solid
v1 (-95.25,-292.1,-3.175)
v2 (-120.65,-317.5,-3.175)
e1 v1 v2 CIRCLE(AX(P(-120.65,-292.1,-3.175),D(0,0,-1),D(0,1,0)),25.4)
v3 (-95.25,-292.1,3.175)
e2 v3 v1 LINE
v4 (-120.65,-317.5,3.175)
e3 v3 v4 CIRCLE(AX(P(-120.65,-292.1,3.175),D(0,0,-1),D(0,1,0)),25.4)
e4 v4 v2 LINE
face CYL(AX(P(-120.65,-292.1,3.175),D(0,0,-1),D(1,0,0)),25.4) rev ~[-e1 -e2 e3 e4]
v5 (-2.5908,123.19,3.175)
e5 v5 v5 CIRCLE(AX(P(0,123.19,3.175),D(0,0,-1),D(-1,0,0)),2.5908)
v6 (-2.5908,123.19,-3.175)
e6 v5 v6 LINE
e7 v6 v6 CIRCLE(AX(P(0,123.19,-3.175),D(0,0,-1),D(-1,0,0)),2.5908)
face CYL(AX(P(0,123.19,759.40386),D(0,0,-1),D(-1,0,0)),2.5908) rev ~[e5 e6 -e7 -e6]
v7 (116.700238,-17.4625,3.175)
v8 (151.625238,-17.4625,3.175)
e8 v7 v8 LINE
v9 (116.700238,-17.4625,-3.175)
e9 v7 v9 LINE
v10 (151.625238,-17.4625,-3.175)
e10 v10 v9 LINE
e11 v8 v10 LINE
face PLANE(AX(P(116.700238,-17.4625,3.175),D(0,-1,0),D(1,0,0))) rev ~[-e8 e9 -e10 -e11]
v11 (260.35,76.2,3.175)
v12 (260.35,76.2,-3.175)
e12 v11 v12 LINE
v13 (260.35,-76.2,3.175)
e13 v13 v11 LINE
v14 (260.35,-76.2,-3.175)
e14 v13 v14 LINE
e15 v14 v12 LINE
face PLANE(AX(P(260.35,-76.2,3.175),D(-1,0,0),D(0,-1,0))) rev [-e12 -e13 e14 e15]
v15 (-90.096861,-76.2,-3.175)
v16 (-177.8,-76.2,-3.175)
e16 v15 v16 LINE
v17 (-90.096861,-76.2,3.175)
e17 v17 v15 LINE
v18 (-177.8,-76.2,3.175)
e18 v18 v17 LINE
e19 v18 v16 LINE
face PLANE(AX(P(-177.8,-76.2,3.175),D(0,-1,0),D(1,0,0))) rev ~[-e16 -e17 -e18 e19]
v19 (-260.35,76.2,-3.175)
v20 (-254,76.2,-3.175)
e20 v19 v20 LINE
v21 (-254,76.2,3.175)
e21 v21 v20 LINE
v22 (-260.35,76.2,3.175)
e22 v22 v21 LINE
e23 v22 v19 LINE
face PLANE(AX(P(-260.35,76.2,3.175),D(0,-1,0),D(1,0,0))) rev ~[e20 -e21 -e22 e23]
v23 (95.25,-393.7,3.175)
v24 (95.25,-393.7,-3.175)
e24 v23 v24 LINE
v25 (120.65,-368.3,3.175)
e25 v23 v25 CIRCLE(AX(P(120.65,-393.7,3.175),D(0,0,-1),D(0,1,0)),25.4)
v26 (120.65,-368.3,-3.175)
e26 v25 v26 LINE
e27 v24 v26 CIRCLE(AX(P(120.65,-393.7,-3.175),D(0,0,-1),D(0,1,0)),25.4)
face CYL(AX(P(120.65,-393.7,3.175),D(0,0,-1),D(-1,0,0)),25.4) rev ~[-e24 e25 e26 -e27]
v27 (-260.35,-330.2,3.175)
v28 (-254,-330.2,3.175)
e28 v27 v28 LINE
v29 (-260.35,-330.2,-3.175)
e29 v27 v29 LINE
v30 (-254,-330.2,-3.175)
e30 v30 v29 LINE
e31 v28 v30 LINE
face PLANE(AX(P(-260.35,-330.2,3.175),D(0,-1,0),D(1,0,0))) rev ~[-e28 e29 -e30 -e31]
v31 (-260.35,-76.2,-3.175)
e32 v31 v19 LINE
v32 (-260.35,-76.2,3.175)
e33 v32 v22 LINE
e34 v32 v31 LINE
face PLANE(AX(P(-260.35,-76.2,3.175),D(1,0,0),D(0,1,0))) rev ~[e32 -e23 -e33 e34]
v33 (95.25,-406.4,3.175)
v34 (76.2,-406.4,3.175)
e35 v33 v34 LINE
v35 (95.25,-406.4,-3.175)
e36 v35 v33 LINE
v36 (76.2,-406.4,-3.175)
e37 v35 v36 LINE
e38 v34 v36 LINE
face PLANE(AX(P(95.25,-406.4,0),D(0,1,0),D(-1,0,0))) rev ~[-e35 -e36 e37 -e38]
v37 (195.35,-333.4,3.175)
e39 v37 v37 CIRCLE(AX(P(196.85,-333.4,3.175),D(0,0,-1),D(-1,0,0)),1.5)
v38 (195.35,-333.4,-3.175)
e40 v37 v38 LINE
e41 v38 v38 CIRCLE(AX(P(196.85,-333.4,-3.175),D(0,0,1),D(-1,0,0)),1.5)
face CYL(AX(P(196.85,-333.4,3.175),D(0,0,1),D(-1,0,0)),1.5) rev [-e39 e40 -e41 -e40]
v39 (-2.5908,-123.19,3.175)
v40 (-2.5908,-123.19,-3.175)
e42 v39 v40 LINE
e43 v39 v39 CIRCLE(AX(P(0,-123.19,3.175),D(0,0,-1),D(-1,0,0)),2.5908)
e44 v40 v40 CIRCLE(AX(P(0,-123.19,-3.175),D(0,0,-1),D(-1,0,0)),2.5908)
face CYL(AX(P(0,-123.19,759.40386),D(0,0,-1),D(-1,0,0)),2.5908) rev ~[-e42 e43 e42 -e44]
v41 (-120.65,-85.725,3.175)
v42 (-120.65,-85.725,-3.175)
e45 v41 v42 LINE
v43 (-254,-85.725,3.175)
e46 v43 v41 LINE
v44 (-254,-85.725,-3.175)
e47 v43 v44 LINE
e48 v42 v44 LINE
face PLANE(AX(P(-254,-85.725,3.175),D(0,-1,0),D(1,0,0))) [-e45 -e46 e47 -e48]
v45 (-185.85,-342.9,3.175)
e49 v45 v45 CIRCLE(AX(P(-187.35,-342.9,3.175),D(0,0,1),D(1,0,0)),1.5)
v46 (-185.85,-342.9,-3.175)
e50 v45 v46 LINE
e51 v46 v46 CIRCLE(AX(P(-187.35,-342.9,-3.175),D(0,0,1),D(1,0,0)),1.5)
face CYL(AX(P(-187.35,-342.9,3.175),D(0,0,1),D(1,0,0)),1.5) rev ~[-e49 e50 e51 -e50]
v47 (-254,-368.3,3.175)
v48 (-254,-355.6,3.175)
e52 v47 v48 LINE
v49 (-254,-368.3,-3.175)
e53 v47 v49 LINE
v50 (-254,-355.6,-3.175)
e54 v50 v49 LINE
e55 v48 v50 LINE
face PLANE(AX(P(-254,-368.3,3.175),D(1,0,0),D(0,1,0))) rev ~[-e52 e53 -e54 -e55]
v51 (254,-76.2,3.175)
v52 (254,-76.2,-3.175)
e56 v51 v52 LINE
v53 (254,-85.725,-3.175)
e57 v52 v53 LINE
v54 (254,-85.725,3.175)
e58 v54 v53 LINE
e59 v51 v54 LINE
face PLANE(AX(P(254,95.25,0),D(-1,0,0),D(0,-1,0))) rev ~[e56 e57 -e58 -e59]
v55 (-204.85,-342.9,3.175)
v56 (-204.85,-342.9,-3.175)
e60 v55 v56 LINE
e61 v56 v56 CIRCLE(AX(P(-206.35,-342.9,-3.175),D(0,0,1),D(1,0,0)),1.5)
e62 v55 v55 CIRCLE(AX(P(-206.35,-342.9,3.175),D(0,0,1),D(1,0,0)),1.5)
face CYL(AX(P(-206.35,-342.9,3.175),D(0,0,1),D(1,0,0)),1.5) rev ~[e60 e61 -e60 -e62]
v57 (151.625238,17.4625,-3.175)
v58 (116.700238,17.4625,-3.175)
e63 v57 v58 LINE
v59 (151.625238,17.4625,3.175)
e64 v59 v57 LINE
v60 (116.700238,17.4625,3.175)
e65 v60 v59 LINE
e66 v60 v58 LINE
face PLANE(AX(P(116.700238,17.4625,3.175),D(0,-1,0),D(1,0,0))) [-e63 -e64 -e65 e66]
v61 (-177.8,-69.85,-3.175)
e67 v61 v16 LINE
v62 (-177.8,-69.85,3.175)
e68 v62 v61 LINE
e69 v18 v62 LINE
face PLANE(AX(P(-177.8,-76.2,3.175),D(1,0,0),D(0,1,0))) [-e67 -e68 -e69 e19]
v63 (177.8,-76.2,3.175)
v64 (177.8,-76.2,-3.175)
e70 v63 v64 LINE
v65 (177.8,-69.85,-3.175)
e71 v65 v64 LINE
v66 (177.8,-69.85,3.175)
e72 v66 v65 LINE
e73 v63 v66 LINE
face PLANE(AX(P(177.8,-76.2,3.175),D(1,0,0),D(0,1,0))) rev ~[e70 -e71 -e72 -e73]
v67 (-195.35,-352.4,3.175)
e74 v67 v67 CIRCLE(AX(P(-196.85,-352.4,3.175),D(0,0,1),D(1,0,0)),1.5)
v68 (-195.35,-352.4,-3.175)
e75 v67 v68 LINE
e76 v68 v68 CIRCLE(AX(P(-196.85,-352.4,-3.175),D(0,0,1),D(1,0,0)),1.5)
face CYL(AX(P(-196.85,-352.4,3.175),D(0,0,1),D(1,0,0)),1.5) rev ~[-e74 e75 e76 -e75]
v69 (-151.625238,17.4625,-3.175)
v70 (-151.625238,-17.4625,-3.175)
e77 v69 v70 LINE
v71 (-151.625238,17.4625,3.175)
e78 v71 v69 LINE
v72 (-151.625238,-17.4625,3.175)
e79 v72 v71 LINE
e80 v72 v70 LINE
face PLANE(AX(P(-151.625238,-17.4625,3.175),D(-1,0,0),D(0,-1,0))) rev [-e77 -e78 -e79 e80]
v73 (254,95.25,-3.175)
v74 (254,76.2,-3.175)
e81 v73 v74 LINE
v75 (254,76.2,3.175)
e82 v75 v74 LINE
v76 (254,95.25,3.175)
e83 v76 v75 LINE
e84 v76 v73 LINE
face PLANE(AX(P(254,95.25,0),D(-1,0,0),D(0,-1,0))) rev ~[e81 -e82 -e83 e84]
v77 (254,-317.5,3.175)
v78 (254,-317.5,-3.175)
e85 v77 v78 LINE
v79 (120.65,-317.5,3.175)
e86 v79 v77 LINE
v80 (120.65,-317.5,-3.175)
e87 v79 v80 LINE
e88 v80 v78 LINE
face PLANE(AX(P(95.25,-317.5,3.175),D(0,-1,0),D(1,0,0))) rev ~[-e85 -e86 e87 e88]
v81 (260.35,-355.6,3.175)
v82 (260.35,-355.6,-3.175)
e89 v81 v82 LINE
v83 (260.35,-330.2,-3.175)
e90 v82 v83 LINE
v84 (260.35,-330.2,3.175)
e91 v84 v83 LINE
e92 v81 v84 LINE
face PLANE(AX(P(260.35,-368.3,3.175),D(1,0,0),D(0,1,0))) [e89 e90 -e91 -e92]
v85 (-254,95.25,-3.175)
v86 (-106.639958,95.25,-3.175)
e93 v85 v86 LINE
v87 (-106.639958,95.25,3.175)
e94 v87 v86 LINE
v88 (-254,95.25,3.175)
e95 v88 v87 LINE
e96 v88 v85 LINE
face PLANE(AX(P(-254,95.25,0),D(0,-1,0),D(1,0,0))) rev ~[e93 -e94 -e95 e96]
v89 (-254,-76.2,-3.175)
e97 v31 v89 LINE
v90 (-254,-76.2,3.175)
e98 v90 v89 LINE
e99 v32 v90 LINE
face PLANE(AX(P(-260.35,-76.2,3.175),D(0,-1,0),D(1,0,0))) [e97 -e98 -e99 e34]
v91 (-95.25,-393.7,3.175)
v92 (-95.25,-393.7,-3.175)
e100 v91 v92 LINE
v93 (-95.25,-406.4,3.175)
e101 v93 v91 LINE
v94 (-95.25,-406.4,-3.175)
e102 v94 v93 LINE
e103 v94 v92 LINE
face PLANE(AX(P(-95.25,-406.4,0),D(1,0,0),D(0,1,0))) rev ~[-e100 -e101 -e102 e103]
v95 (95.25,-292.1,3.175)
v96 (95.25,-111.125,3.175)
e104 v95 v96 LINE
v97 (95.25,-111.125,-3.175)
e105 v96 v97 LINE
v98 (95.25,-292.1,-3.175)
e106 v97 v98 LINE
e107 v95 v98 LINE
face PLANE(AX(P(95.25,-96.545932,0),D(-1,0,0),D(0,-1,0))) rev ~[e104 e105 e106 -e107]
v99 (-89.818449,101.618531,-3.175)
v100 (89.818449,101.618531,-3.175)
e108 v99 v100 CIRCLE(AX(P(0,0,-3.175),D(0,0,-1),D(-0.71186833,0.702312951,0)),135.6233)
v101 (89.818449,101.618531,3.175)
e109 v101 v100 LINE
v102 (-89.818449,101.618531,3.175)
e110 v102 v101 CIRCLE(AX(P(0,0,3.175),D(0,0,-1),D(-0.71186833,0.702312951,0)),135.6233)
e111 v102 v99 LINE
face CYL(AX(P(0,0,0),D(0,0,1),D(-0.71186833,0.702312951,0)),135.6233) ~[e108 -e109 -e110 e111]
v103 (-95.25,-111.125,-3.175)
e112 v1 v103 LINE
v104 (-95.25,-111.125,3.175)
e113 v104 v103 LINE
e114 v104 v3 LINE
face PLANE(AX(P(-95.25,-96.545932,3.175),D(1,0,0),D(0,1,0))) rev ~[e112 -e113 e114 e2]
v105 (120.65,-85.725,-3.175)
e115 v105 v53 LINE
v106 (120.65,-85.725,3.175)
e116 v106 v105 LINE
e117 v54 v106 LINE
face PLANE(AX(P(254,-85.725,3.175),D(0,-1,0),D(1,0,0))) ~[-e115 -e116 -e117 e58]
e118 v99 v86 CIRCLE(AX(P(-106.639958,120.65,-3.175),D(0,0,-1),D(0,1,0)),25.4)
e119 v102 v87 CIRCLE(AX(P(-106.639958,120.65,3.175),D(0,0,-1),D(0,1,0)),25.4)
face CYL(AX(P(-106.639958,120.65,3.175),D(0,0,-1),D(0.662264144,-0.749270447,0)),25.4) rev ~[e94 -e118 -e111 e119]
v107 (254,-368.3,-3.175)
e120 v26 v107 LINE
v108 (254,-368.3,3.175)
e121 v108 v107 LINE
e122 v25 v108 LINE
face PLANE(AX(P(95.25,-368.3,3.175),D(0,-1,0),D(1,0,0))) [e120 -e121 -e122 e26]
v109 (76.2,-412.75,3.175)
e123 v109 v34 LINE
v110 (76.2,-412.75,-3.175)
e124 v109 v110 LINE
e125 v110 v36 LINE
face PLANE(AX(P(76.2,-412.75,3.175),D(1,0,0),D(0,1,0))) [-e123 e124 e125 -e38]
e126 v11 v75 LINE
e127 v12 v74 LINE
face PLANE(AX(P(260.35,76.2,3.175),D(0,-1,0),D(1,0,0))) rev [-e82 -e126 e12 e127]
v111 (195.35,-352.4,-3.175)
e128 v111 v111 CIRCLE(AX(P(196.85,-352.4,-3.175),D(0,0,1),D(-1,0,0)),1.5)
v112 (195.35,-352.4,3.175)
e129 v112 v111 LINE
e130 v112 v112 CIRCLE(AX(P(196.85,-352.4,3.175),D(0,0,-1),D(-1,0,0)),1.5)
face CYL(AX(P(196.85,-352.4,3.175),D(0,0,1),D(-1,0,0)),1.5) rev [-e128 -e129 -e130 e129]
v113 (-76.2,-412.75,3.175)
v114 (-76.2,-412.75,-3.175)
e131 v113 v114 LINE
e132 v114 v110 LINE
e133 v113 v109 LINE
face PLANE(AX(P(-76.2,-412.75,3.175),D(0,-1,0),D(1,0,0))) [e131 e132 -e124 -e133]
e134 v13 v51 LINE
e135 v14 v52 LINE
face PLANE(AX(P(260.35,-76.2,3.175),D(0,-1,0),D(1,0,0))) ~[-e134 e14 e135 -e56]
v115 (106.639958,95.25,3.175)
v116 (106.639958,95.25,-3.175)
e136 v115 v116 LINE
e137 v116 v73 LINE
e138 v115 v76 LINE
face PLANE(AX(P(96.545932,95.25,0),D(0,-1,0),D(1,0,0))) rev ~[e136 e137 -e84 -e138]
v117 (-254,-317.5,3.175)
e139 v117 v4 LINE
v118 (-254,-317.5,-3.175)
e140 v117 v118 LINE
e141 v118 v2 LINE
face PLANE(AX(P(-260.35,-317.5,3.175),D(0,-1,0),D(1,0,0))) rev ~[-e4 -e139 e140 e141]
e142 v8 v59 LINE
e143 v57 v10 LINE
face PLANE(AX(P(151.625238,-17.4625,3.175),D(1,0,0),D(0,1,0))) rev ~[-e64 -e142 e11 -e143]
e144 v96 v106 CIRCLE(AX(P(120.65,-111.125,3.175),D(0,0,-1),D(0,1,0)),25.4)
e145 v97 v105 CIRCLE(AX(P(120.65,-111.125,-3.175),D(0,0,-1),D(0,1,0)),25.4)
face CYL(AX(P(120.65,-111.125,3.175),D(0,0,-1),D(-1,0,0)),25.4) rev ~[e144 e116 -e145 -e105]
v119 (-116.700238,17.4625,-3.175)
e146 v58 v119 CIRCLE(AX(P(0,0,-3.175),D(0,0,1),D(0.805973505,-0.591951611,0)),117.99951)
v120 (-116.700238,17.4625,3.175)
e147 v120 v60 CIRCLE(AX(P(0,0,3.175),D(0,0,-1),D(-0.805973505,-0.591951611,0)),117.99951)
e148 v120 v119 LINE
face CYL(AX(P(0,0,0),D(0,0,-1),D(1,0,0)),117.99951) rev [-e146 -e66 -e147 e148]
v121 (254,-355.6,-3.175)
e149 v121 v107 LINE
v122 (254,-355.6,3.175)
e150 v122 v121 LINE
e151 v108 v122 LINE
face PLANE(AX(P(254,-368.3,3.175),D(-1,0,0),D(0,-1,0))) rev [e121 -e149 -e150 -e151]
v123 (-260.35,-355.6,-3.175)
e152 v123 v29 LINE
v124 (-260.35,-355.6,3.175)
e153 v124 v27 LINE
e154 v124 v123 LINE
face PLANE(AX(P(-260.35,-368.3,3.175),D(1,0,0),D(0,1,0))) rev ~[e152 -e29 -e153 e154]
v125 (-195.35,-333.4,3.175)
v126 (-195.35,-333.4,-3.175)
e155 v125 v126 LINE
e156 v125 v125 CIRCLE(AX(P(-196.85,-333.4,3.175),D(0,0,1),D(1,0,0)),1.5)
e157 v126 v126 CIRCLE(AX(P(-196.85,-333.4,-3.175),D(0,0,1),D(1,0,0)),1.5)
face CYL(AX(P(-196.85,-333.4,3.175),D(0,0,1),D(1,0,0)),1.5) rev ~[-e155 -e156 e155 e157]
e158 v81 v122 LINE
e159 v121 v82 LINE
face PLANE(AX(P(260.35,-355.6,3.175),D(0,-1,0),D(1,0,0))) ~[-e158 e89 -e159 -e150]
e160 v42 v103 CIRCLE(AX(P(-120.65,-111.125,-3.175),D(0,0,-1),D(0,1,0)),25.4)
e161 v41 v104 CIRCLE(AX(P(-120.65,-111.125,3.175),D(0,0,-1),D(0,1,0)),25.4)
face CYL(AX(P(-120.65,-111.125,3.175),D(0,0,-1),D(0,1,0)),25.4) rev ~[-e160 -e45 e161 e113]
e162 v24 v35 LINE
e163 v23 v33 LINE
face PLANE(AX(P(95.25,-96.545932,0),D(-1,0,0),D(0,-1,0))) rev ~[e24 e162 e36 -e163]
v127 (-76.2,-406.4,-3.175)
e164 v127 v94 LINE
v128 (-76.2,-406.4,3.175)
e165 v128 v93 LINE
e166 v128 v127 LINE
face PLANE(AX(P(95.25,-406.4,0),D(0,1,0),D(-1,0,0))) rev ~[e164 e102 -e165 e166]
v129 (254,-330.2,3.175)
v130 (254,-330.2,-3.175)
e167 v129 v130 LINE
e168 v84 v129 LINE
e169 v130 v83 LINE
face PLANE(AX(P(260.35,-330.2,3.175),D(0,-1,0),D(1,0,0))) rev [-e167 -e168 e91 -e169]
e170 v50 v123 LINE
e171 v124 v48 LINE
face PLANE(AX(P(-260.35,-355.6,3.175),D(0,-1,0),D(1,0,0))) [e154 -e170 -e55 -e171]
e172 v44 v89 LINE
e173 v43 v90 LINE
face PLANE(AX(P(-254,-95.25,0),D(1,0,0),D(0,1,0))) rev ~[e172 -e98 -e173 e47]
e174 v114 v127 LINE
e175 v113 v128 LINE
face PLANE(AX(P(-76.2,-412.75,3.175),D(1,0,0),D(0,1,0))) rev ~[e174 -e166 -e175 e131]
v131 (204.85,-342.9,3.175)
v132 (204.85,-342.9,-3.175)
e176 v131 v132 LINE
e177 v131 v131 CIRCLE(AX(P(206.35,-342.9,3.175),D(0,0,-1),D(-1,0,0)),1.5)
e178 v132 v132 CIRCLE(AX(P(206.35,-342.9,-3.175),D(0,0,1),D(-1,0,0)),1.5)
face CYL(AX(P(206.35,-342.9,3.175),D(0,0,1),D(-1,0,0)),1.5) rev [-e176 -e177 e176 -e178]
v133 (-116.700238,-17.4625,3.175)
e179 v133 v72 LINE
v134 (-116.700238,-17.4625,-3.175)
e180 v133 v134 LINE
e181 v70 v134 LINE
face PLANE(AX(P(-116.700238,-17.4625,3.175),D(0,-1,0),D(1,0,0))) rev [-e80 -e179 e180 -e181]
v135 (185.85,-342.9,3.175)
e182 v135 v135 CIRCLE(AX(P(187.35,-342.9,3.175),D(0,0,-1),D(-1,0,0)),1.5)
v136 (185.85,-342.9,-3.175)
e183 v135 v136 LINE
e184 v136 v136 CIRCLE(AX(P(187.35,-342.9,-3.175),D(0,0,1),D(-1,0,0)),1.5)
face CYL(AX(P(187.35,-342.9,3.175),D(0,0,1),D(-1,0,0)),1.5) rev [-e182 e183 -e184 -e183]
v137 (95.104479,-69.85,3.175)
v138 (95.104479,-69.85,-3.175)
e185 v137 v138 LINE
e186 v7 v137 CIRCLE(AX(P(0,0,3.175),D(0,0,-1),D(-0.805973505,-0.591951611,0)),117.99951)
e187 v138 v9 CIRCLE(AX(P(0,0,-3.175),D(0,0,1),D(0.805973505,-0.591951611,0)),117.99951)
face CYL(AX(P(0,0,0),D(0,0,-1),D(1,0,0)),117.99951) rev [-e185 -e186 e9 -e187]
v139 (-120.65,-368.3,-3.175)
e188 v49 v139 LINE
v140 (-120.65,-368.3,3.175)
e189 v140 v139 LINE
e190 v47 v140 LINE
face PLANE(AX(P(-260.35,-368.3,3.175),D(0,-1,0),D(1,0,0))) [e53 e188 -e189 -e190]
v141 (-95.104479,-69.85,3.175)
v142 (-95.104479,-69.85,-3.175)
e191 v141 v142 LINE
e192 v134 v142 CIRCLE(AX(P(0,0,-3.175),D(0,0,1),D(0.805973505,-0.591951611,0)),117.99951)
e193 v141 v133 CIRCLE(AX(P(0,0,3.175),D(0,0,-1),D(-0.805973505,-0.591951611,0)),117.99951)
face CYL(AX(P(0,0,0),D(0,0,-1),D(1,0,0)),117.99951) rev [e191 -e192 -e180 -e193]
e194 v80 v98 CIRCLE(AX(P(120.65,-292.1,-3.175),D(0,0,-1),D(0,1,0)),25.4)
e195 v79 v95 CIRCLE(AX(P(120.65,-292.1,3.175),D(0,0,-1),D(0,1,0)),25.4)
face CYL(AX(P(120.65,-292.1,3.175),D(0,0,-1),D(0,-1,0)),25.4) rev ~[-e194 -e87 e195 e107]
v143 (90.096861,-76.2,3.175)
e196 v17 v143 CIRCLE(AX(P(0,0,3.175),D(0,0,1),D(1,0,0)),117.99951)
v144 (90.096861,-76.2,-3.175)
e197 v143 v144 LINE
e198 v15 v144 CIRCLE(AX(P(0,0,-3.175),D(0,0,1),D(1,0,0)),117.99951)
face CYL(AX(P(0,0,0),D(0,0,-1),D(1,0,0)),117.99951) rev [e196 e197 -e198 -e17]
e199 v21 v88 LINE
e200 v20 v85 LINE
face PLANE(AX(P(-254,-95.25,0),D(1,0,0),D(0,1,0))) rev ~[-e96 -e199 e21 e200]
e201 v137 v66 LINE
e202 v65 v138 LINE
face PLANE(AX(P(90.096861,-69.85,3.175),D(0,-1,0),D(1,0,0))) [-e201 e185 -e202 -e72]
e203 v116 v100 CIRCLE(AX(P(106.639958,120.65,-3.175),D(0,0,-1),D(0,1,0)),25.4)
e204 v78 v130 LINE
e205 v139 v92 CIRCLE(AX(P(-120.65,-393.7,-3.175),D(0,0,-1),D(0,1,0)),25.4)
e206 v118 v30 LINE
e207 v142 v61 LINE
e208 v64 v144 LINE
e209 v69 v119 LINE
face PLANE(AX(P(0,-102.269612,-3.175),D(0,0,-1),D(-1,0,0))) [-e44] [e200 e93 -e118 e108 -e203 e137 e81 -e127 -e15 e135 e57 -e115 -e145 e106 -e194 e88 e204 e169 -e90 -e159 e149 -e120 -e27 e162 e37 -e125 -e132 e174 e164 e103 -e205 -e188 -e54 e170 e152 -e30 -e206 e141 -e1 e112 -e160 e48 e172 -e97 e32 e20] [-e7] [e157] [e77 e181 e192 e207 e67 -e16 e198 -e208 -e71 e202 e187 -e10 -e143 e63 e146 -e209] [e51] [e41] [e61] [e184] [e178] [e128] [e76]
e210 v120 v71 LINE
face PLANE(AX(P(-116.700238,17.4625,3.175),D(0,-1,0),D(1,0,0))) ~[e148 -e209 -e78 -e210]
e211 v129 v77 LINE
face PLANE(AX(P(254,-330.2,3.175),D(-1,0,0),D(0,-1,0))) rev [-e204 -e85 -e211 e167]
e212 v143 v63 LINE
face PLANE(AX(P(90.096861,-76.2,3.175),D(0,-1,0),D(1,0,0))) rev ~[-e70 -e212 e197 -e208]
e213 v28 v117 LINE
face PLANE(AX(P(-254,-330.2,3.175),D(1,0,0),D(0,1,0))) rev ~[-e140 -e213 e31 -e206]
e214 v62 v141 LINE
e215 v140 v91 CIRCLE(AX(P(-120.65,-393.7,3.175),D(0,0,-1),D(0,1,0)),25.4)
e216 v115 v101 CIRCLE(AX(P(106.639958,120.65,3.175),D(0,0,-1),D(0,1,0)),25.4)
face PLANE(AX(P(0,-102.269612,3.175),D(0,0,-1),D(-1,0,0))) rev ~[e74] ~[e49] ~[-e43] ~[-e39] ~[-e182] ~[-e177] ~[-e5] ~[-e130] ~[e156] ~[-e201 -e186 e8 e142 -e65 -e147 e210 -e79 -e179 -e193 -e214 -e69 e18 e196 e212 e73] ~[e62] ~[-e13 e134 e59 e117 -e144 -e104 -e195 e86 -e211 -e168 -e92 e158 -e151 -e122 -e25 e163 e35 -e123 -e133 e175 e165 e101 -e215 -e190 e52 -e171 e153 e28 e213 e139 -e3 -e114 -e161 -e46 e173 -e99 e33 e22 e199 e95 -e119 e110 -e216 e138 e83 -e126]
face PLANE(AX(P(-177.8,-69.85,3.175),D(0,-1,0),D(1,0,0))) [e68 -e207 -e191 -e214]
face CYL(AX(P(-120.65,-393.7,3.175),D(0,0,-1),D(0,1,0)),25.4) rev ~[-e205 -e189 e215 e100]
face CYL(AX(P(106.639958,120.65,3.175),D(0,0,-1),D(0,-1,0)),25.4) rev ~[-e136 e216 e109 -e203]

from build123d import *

# Parameters (mm, degrees)
MAIN_BODY_SKETCH_R     = 117.99951
MAIN_BODY_DEPTH        = 3.175
TABS_SKETCH_W          = 6.35
TABS_SKETCH_H          = 152.4
TABS_SKETCH_W_2        = 152.4
TABS_SKETCH_H_2        = 6.35
OUTSIDE_TABS_DEPTH     = 6.35
F_6_0_204_TUBE_MOUNT_D = 5.1816
SKETCH12_W             = 165.1
SKETCH12_H             = 50.8
BOSS_EXTRUDE1_DEPTH    = 6.35
SKETCH13_R             = 1.5
CUT_EXTRUDE1_DEPTH     = 489.042014073
SKETCH14_W             = 6.35
SKETCH14_H             = 12.7
CUT_EXTRUDE2_DEPTH     = 489.042014073
SKETCH15_W             = 87.70313901
SKETCH15_H             = 6.35
CUT_EXTRUDE3_DEPTH     = 489.042014073
SKETCH16_W             = 34.925
SKETCH16_H             = 34.925
CUT_EXTRUDE4_DEPTH     = 489.042014073
SKETCH17_W             = 158.75
SKETCH17_H             = 10.820932089
CUT_EXTRUDE5_DEPTH     = 489.042014073
FILLET1_R              = 25.4


with BuildPart() as part:
    # Main Body Sketch → Main Body (new, symmetric)
    with BuildSketch(Plane.XY):
        with BuildLine():
            Line((-96.545932089, -95.25), (-254, -95.25))
            Line((-254, -95.25), (-254, 95.25))
            Line((-254, 95.25), (-96.545932089, 95.25))
            ThreePointArc((-96.545932089, 95.25), (0, 135.6233), (96.545932089, 95.25))
            Line((96.545932089, 95.25), (254, 95.25))
            Line((254, 95.25), (254, -95.25))
            Line((254, -95.25), (96.545932089, -95.25))
            ThreePointArc((96.545932089, -95.25), (95.900155117, -95.900155117), (95.25, -96.545932089))
            Line((95.25, -96.545932089), (95.25, -406.4))
            Line((95.25, -406.4), (-95.25, -406.4))
            Line((-95.25, -406.4), (-95.25, -96.545932089))
            ThreePointArc((-95.25, -96.545932089), (-95.900155117, -95.900155117), (-96.545932089, -95.25))
        make_face()
        Circle(MAIN_BODY_SKETCH_R, mode=Mode.SUBTRACT)
    extrude(amount=MAIN_BODY_DEPTH, both=True)

    # Tabs Sketch → Outside Tabs (add)
    with BuildSketch(Plane.XY.offset(3.175)):
        with Locations((-257.175, 0)):
            Rectangle(TABS_SKETCH_W, TABS_SKETCH_H)
        with Locations((0, -409.575)):
            Rectangle(TABS_SKETCH_W_2, TABS_SKETCH_H_2)
    outside_tabs = extrude(amount=-OUTSIDE_TABS_DEPTH)

    # Outside Tabs Mirror: Outside Tabs across plane
    add(outside_tabs.mirror(Plane(origin=(0, 0, 0), x_dir=(0, 0, 1), z_dir=(1, 0, 0))))

    # #6 (0.204) Tube Mount (through all)
    with Locations(Plane.XY.offset(3.175)):
        with Locations((0, -123.19), (123.19, 0), (0, 123.19), (-123.19, 0)):
            Hole(F_6_0_204_TUBE_MOUNT_D / 2)

    # Sketch12 → Boss-Extrude1 (add)
    with BuildSketch(Plane.XY.offset(3.175)):
        with Locations((-177.8, -342.9)):
            Rectangle(SKETCH12_W, SKETCH12_H)
        with Locations((177.8, -342.9)):
            Rectangle(SKETCH12_W, SKETCH12_H)
    extrude(amount=-BOSS_EXTRUDE1_DEPTH)

    # Sketch13 → Cut-Extrude1 (cut, through all)
    with BuildSketch(Plane.XY.offset(3.175)):
        with Locations((-196.85, -333.4)):
            Circle(SKETCH13_R)
        with Locations((-187.35, -342.9)):
            Circle(SKETCH13_R)
        with Locations((-196.85, -352.4)):
            Circle(SKETCH13_R)
        with Locations((-206.35, -342.9)):
            Circle(SKETCH13_R)
    cut_extrude1 = extrude(amount=-CUT_EXTRUDE1_DEPTH, mode=Mode.SUBTRACT)

    # Mirror2: Cut-Extrude1 across plane
    add(cut_extrude1.mirror(Plane(origin=(0, 0, 0), x_dir=(0, 0, 1), z_dir=(1, 0, 0))), mode=Mode.SUBTRACT)

    # Sketch14 → Cut-Extrude2 (cut, through all)
    with BuildSketch(Plane.XY.offset(3.175)):
        with Locations((-257.175, -323.85)):
            Rectangle(SKETCH14_W, SKETCH14_H)
        with Locations((-257.175, -361.95)):
            Rectangle(SKETCH14_W, SKETCH14_H)
    cut_extrude2 = extrude(amount=-CUT_EXTRUDE2_DEPTH, mode=Mode.SUBTRACT)

    # Mirror3: Cut-Extrude2 across plane
    add(cut_extrude2.mirror(Plane(origin=(0, 0, 0), x_dir=(0, 0, 1), z_dir=(1, 0, 0))), mode=Mode.SUBTRACT)

    # Sketch15 → Cut-Extrude3 (cut, through all)
    with BuildSketch(Plane.XY.offset(3.175)):
        with Locations((-133.948430495, -73.025)):
            Rectangle(SKETCH15_W, SKETCH15_H)
        with Locations((133.948430495, -73.025)):
            Rectangle(SKETCH15_W, SKETCH15_H)
    extrude(amount=-CUT_EXTRUDE3_DEPTH, mode=Mode.SUBTRACT)

    # Sketch16 → Cut-Extrude4 (cut, through all)
    with BuildSketch(Plane.XY.offset(3.175)):
        with Locations((134.162737592, 0)):
            Rectangle(SKETCH16_W, SKETCH16_H)
    cut_extrude4 = extrude(amount=-CUT_EXTRUDE4_DEPTH, mode=Mode.SUBTRACT)

    # Mirror4: Cut-Extrude4 across plane
    add(cut_extrude4.mirror(Plane(origin=(0, 0, 0), x_dir=(0, 0, 1), z_dir=(1, 0, 0))), mode=Mode.SUBTRACT)

    # Sketch17 → Cut-Extrude5 (cut, through all)
    with BuildSketch(Plane.XY.offset(3.175)):
        with Locations((-174.625, -91.135466045)):
            Rectangle(SKETCH17_W, SKETCH17_H)
    cut_extrude5 = extrude(amount=-CUT_EXTRUDE5_DEPTH, mode=Mode.SUBTRACT)

    # Mirror5: Cut-Extrude5 across plane
    add(cut_extrude5.mirror(Plane(origin=(0, 0, 0), x_dir=(0, 0, 1), z_dir=(1, 0, 0))), mode=Mode.SUBTRACT)

    # Fillet1
    fillet1_edges = [part.edges().sort_by_distance(p)[0] for p in [
        (-95.25, -317.5, 0),
        (-95.25, -368.3, 0),
        (95.25, -317.5, 0),
        (95.25, -368.3, 0),
        (-96.545932089, 95.25, 0),
        (96.545932089, 95.25, 0),
        (-95.25, -85.725, 0),
        (95.25, -85.725, 0),
    ]]
    fillet(fillet1_edges, radius=FILLET1_R)


solid = part.part
